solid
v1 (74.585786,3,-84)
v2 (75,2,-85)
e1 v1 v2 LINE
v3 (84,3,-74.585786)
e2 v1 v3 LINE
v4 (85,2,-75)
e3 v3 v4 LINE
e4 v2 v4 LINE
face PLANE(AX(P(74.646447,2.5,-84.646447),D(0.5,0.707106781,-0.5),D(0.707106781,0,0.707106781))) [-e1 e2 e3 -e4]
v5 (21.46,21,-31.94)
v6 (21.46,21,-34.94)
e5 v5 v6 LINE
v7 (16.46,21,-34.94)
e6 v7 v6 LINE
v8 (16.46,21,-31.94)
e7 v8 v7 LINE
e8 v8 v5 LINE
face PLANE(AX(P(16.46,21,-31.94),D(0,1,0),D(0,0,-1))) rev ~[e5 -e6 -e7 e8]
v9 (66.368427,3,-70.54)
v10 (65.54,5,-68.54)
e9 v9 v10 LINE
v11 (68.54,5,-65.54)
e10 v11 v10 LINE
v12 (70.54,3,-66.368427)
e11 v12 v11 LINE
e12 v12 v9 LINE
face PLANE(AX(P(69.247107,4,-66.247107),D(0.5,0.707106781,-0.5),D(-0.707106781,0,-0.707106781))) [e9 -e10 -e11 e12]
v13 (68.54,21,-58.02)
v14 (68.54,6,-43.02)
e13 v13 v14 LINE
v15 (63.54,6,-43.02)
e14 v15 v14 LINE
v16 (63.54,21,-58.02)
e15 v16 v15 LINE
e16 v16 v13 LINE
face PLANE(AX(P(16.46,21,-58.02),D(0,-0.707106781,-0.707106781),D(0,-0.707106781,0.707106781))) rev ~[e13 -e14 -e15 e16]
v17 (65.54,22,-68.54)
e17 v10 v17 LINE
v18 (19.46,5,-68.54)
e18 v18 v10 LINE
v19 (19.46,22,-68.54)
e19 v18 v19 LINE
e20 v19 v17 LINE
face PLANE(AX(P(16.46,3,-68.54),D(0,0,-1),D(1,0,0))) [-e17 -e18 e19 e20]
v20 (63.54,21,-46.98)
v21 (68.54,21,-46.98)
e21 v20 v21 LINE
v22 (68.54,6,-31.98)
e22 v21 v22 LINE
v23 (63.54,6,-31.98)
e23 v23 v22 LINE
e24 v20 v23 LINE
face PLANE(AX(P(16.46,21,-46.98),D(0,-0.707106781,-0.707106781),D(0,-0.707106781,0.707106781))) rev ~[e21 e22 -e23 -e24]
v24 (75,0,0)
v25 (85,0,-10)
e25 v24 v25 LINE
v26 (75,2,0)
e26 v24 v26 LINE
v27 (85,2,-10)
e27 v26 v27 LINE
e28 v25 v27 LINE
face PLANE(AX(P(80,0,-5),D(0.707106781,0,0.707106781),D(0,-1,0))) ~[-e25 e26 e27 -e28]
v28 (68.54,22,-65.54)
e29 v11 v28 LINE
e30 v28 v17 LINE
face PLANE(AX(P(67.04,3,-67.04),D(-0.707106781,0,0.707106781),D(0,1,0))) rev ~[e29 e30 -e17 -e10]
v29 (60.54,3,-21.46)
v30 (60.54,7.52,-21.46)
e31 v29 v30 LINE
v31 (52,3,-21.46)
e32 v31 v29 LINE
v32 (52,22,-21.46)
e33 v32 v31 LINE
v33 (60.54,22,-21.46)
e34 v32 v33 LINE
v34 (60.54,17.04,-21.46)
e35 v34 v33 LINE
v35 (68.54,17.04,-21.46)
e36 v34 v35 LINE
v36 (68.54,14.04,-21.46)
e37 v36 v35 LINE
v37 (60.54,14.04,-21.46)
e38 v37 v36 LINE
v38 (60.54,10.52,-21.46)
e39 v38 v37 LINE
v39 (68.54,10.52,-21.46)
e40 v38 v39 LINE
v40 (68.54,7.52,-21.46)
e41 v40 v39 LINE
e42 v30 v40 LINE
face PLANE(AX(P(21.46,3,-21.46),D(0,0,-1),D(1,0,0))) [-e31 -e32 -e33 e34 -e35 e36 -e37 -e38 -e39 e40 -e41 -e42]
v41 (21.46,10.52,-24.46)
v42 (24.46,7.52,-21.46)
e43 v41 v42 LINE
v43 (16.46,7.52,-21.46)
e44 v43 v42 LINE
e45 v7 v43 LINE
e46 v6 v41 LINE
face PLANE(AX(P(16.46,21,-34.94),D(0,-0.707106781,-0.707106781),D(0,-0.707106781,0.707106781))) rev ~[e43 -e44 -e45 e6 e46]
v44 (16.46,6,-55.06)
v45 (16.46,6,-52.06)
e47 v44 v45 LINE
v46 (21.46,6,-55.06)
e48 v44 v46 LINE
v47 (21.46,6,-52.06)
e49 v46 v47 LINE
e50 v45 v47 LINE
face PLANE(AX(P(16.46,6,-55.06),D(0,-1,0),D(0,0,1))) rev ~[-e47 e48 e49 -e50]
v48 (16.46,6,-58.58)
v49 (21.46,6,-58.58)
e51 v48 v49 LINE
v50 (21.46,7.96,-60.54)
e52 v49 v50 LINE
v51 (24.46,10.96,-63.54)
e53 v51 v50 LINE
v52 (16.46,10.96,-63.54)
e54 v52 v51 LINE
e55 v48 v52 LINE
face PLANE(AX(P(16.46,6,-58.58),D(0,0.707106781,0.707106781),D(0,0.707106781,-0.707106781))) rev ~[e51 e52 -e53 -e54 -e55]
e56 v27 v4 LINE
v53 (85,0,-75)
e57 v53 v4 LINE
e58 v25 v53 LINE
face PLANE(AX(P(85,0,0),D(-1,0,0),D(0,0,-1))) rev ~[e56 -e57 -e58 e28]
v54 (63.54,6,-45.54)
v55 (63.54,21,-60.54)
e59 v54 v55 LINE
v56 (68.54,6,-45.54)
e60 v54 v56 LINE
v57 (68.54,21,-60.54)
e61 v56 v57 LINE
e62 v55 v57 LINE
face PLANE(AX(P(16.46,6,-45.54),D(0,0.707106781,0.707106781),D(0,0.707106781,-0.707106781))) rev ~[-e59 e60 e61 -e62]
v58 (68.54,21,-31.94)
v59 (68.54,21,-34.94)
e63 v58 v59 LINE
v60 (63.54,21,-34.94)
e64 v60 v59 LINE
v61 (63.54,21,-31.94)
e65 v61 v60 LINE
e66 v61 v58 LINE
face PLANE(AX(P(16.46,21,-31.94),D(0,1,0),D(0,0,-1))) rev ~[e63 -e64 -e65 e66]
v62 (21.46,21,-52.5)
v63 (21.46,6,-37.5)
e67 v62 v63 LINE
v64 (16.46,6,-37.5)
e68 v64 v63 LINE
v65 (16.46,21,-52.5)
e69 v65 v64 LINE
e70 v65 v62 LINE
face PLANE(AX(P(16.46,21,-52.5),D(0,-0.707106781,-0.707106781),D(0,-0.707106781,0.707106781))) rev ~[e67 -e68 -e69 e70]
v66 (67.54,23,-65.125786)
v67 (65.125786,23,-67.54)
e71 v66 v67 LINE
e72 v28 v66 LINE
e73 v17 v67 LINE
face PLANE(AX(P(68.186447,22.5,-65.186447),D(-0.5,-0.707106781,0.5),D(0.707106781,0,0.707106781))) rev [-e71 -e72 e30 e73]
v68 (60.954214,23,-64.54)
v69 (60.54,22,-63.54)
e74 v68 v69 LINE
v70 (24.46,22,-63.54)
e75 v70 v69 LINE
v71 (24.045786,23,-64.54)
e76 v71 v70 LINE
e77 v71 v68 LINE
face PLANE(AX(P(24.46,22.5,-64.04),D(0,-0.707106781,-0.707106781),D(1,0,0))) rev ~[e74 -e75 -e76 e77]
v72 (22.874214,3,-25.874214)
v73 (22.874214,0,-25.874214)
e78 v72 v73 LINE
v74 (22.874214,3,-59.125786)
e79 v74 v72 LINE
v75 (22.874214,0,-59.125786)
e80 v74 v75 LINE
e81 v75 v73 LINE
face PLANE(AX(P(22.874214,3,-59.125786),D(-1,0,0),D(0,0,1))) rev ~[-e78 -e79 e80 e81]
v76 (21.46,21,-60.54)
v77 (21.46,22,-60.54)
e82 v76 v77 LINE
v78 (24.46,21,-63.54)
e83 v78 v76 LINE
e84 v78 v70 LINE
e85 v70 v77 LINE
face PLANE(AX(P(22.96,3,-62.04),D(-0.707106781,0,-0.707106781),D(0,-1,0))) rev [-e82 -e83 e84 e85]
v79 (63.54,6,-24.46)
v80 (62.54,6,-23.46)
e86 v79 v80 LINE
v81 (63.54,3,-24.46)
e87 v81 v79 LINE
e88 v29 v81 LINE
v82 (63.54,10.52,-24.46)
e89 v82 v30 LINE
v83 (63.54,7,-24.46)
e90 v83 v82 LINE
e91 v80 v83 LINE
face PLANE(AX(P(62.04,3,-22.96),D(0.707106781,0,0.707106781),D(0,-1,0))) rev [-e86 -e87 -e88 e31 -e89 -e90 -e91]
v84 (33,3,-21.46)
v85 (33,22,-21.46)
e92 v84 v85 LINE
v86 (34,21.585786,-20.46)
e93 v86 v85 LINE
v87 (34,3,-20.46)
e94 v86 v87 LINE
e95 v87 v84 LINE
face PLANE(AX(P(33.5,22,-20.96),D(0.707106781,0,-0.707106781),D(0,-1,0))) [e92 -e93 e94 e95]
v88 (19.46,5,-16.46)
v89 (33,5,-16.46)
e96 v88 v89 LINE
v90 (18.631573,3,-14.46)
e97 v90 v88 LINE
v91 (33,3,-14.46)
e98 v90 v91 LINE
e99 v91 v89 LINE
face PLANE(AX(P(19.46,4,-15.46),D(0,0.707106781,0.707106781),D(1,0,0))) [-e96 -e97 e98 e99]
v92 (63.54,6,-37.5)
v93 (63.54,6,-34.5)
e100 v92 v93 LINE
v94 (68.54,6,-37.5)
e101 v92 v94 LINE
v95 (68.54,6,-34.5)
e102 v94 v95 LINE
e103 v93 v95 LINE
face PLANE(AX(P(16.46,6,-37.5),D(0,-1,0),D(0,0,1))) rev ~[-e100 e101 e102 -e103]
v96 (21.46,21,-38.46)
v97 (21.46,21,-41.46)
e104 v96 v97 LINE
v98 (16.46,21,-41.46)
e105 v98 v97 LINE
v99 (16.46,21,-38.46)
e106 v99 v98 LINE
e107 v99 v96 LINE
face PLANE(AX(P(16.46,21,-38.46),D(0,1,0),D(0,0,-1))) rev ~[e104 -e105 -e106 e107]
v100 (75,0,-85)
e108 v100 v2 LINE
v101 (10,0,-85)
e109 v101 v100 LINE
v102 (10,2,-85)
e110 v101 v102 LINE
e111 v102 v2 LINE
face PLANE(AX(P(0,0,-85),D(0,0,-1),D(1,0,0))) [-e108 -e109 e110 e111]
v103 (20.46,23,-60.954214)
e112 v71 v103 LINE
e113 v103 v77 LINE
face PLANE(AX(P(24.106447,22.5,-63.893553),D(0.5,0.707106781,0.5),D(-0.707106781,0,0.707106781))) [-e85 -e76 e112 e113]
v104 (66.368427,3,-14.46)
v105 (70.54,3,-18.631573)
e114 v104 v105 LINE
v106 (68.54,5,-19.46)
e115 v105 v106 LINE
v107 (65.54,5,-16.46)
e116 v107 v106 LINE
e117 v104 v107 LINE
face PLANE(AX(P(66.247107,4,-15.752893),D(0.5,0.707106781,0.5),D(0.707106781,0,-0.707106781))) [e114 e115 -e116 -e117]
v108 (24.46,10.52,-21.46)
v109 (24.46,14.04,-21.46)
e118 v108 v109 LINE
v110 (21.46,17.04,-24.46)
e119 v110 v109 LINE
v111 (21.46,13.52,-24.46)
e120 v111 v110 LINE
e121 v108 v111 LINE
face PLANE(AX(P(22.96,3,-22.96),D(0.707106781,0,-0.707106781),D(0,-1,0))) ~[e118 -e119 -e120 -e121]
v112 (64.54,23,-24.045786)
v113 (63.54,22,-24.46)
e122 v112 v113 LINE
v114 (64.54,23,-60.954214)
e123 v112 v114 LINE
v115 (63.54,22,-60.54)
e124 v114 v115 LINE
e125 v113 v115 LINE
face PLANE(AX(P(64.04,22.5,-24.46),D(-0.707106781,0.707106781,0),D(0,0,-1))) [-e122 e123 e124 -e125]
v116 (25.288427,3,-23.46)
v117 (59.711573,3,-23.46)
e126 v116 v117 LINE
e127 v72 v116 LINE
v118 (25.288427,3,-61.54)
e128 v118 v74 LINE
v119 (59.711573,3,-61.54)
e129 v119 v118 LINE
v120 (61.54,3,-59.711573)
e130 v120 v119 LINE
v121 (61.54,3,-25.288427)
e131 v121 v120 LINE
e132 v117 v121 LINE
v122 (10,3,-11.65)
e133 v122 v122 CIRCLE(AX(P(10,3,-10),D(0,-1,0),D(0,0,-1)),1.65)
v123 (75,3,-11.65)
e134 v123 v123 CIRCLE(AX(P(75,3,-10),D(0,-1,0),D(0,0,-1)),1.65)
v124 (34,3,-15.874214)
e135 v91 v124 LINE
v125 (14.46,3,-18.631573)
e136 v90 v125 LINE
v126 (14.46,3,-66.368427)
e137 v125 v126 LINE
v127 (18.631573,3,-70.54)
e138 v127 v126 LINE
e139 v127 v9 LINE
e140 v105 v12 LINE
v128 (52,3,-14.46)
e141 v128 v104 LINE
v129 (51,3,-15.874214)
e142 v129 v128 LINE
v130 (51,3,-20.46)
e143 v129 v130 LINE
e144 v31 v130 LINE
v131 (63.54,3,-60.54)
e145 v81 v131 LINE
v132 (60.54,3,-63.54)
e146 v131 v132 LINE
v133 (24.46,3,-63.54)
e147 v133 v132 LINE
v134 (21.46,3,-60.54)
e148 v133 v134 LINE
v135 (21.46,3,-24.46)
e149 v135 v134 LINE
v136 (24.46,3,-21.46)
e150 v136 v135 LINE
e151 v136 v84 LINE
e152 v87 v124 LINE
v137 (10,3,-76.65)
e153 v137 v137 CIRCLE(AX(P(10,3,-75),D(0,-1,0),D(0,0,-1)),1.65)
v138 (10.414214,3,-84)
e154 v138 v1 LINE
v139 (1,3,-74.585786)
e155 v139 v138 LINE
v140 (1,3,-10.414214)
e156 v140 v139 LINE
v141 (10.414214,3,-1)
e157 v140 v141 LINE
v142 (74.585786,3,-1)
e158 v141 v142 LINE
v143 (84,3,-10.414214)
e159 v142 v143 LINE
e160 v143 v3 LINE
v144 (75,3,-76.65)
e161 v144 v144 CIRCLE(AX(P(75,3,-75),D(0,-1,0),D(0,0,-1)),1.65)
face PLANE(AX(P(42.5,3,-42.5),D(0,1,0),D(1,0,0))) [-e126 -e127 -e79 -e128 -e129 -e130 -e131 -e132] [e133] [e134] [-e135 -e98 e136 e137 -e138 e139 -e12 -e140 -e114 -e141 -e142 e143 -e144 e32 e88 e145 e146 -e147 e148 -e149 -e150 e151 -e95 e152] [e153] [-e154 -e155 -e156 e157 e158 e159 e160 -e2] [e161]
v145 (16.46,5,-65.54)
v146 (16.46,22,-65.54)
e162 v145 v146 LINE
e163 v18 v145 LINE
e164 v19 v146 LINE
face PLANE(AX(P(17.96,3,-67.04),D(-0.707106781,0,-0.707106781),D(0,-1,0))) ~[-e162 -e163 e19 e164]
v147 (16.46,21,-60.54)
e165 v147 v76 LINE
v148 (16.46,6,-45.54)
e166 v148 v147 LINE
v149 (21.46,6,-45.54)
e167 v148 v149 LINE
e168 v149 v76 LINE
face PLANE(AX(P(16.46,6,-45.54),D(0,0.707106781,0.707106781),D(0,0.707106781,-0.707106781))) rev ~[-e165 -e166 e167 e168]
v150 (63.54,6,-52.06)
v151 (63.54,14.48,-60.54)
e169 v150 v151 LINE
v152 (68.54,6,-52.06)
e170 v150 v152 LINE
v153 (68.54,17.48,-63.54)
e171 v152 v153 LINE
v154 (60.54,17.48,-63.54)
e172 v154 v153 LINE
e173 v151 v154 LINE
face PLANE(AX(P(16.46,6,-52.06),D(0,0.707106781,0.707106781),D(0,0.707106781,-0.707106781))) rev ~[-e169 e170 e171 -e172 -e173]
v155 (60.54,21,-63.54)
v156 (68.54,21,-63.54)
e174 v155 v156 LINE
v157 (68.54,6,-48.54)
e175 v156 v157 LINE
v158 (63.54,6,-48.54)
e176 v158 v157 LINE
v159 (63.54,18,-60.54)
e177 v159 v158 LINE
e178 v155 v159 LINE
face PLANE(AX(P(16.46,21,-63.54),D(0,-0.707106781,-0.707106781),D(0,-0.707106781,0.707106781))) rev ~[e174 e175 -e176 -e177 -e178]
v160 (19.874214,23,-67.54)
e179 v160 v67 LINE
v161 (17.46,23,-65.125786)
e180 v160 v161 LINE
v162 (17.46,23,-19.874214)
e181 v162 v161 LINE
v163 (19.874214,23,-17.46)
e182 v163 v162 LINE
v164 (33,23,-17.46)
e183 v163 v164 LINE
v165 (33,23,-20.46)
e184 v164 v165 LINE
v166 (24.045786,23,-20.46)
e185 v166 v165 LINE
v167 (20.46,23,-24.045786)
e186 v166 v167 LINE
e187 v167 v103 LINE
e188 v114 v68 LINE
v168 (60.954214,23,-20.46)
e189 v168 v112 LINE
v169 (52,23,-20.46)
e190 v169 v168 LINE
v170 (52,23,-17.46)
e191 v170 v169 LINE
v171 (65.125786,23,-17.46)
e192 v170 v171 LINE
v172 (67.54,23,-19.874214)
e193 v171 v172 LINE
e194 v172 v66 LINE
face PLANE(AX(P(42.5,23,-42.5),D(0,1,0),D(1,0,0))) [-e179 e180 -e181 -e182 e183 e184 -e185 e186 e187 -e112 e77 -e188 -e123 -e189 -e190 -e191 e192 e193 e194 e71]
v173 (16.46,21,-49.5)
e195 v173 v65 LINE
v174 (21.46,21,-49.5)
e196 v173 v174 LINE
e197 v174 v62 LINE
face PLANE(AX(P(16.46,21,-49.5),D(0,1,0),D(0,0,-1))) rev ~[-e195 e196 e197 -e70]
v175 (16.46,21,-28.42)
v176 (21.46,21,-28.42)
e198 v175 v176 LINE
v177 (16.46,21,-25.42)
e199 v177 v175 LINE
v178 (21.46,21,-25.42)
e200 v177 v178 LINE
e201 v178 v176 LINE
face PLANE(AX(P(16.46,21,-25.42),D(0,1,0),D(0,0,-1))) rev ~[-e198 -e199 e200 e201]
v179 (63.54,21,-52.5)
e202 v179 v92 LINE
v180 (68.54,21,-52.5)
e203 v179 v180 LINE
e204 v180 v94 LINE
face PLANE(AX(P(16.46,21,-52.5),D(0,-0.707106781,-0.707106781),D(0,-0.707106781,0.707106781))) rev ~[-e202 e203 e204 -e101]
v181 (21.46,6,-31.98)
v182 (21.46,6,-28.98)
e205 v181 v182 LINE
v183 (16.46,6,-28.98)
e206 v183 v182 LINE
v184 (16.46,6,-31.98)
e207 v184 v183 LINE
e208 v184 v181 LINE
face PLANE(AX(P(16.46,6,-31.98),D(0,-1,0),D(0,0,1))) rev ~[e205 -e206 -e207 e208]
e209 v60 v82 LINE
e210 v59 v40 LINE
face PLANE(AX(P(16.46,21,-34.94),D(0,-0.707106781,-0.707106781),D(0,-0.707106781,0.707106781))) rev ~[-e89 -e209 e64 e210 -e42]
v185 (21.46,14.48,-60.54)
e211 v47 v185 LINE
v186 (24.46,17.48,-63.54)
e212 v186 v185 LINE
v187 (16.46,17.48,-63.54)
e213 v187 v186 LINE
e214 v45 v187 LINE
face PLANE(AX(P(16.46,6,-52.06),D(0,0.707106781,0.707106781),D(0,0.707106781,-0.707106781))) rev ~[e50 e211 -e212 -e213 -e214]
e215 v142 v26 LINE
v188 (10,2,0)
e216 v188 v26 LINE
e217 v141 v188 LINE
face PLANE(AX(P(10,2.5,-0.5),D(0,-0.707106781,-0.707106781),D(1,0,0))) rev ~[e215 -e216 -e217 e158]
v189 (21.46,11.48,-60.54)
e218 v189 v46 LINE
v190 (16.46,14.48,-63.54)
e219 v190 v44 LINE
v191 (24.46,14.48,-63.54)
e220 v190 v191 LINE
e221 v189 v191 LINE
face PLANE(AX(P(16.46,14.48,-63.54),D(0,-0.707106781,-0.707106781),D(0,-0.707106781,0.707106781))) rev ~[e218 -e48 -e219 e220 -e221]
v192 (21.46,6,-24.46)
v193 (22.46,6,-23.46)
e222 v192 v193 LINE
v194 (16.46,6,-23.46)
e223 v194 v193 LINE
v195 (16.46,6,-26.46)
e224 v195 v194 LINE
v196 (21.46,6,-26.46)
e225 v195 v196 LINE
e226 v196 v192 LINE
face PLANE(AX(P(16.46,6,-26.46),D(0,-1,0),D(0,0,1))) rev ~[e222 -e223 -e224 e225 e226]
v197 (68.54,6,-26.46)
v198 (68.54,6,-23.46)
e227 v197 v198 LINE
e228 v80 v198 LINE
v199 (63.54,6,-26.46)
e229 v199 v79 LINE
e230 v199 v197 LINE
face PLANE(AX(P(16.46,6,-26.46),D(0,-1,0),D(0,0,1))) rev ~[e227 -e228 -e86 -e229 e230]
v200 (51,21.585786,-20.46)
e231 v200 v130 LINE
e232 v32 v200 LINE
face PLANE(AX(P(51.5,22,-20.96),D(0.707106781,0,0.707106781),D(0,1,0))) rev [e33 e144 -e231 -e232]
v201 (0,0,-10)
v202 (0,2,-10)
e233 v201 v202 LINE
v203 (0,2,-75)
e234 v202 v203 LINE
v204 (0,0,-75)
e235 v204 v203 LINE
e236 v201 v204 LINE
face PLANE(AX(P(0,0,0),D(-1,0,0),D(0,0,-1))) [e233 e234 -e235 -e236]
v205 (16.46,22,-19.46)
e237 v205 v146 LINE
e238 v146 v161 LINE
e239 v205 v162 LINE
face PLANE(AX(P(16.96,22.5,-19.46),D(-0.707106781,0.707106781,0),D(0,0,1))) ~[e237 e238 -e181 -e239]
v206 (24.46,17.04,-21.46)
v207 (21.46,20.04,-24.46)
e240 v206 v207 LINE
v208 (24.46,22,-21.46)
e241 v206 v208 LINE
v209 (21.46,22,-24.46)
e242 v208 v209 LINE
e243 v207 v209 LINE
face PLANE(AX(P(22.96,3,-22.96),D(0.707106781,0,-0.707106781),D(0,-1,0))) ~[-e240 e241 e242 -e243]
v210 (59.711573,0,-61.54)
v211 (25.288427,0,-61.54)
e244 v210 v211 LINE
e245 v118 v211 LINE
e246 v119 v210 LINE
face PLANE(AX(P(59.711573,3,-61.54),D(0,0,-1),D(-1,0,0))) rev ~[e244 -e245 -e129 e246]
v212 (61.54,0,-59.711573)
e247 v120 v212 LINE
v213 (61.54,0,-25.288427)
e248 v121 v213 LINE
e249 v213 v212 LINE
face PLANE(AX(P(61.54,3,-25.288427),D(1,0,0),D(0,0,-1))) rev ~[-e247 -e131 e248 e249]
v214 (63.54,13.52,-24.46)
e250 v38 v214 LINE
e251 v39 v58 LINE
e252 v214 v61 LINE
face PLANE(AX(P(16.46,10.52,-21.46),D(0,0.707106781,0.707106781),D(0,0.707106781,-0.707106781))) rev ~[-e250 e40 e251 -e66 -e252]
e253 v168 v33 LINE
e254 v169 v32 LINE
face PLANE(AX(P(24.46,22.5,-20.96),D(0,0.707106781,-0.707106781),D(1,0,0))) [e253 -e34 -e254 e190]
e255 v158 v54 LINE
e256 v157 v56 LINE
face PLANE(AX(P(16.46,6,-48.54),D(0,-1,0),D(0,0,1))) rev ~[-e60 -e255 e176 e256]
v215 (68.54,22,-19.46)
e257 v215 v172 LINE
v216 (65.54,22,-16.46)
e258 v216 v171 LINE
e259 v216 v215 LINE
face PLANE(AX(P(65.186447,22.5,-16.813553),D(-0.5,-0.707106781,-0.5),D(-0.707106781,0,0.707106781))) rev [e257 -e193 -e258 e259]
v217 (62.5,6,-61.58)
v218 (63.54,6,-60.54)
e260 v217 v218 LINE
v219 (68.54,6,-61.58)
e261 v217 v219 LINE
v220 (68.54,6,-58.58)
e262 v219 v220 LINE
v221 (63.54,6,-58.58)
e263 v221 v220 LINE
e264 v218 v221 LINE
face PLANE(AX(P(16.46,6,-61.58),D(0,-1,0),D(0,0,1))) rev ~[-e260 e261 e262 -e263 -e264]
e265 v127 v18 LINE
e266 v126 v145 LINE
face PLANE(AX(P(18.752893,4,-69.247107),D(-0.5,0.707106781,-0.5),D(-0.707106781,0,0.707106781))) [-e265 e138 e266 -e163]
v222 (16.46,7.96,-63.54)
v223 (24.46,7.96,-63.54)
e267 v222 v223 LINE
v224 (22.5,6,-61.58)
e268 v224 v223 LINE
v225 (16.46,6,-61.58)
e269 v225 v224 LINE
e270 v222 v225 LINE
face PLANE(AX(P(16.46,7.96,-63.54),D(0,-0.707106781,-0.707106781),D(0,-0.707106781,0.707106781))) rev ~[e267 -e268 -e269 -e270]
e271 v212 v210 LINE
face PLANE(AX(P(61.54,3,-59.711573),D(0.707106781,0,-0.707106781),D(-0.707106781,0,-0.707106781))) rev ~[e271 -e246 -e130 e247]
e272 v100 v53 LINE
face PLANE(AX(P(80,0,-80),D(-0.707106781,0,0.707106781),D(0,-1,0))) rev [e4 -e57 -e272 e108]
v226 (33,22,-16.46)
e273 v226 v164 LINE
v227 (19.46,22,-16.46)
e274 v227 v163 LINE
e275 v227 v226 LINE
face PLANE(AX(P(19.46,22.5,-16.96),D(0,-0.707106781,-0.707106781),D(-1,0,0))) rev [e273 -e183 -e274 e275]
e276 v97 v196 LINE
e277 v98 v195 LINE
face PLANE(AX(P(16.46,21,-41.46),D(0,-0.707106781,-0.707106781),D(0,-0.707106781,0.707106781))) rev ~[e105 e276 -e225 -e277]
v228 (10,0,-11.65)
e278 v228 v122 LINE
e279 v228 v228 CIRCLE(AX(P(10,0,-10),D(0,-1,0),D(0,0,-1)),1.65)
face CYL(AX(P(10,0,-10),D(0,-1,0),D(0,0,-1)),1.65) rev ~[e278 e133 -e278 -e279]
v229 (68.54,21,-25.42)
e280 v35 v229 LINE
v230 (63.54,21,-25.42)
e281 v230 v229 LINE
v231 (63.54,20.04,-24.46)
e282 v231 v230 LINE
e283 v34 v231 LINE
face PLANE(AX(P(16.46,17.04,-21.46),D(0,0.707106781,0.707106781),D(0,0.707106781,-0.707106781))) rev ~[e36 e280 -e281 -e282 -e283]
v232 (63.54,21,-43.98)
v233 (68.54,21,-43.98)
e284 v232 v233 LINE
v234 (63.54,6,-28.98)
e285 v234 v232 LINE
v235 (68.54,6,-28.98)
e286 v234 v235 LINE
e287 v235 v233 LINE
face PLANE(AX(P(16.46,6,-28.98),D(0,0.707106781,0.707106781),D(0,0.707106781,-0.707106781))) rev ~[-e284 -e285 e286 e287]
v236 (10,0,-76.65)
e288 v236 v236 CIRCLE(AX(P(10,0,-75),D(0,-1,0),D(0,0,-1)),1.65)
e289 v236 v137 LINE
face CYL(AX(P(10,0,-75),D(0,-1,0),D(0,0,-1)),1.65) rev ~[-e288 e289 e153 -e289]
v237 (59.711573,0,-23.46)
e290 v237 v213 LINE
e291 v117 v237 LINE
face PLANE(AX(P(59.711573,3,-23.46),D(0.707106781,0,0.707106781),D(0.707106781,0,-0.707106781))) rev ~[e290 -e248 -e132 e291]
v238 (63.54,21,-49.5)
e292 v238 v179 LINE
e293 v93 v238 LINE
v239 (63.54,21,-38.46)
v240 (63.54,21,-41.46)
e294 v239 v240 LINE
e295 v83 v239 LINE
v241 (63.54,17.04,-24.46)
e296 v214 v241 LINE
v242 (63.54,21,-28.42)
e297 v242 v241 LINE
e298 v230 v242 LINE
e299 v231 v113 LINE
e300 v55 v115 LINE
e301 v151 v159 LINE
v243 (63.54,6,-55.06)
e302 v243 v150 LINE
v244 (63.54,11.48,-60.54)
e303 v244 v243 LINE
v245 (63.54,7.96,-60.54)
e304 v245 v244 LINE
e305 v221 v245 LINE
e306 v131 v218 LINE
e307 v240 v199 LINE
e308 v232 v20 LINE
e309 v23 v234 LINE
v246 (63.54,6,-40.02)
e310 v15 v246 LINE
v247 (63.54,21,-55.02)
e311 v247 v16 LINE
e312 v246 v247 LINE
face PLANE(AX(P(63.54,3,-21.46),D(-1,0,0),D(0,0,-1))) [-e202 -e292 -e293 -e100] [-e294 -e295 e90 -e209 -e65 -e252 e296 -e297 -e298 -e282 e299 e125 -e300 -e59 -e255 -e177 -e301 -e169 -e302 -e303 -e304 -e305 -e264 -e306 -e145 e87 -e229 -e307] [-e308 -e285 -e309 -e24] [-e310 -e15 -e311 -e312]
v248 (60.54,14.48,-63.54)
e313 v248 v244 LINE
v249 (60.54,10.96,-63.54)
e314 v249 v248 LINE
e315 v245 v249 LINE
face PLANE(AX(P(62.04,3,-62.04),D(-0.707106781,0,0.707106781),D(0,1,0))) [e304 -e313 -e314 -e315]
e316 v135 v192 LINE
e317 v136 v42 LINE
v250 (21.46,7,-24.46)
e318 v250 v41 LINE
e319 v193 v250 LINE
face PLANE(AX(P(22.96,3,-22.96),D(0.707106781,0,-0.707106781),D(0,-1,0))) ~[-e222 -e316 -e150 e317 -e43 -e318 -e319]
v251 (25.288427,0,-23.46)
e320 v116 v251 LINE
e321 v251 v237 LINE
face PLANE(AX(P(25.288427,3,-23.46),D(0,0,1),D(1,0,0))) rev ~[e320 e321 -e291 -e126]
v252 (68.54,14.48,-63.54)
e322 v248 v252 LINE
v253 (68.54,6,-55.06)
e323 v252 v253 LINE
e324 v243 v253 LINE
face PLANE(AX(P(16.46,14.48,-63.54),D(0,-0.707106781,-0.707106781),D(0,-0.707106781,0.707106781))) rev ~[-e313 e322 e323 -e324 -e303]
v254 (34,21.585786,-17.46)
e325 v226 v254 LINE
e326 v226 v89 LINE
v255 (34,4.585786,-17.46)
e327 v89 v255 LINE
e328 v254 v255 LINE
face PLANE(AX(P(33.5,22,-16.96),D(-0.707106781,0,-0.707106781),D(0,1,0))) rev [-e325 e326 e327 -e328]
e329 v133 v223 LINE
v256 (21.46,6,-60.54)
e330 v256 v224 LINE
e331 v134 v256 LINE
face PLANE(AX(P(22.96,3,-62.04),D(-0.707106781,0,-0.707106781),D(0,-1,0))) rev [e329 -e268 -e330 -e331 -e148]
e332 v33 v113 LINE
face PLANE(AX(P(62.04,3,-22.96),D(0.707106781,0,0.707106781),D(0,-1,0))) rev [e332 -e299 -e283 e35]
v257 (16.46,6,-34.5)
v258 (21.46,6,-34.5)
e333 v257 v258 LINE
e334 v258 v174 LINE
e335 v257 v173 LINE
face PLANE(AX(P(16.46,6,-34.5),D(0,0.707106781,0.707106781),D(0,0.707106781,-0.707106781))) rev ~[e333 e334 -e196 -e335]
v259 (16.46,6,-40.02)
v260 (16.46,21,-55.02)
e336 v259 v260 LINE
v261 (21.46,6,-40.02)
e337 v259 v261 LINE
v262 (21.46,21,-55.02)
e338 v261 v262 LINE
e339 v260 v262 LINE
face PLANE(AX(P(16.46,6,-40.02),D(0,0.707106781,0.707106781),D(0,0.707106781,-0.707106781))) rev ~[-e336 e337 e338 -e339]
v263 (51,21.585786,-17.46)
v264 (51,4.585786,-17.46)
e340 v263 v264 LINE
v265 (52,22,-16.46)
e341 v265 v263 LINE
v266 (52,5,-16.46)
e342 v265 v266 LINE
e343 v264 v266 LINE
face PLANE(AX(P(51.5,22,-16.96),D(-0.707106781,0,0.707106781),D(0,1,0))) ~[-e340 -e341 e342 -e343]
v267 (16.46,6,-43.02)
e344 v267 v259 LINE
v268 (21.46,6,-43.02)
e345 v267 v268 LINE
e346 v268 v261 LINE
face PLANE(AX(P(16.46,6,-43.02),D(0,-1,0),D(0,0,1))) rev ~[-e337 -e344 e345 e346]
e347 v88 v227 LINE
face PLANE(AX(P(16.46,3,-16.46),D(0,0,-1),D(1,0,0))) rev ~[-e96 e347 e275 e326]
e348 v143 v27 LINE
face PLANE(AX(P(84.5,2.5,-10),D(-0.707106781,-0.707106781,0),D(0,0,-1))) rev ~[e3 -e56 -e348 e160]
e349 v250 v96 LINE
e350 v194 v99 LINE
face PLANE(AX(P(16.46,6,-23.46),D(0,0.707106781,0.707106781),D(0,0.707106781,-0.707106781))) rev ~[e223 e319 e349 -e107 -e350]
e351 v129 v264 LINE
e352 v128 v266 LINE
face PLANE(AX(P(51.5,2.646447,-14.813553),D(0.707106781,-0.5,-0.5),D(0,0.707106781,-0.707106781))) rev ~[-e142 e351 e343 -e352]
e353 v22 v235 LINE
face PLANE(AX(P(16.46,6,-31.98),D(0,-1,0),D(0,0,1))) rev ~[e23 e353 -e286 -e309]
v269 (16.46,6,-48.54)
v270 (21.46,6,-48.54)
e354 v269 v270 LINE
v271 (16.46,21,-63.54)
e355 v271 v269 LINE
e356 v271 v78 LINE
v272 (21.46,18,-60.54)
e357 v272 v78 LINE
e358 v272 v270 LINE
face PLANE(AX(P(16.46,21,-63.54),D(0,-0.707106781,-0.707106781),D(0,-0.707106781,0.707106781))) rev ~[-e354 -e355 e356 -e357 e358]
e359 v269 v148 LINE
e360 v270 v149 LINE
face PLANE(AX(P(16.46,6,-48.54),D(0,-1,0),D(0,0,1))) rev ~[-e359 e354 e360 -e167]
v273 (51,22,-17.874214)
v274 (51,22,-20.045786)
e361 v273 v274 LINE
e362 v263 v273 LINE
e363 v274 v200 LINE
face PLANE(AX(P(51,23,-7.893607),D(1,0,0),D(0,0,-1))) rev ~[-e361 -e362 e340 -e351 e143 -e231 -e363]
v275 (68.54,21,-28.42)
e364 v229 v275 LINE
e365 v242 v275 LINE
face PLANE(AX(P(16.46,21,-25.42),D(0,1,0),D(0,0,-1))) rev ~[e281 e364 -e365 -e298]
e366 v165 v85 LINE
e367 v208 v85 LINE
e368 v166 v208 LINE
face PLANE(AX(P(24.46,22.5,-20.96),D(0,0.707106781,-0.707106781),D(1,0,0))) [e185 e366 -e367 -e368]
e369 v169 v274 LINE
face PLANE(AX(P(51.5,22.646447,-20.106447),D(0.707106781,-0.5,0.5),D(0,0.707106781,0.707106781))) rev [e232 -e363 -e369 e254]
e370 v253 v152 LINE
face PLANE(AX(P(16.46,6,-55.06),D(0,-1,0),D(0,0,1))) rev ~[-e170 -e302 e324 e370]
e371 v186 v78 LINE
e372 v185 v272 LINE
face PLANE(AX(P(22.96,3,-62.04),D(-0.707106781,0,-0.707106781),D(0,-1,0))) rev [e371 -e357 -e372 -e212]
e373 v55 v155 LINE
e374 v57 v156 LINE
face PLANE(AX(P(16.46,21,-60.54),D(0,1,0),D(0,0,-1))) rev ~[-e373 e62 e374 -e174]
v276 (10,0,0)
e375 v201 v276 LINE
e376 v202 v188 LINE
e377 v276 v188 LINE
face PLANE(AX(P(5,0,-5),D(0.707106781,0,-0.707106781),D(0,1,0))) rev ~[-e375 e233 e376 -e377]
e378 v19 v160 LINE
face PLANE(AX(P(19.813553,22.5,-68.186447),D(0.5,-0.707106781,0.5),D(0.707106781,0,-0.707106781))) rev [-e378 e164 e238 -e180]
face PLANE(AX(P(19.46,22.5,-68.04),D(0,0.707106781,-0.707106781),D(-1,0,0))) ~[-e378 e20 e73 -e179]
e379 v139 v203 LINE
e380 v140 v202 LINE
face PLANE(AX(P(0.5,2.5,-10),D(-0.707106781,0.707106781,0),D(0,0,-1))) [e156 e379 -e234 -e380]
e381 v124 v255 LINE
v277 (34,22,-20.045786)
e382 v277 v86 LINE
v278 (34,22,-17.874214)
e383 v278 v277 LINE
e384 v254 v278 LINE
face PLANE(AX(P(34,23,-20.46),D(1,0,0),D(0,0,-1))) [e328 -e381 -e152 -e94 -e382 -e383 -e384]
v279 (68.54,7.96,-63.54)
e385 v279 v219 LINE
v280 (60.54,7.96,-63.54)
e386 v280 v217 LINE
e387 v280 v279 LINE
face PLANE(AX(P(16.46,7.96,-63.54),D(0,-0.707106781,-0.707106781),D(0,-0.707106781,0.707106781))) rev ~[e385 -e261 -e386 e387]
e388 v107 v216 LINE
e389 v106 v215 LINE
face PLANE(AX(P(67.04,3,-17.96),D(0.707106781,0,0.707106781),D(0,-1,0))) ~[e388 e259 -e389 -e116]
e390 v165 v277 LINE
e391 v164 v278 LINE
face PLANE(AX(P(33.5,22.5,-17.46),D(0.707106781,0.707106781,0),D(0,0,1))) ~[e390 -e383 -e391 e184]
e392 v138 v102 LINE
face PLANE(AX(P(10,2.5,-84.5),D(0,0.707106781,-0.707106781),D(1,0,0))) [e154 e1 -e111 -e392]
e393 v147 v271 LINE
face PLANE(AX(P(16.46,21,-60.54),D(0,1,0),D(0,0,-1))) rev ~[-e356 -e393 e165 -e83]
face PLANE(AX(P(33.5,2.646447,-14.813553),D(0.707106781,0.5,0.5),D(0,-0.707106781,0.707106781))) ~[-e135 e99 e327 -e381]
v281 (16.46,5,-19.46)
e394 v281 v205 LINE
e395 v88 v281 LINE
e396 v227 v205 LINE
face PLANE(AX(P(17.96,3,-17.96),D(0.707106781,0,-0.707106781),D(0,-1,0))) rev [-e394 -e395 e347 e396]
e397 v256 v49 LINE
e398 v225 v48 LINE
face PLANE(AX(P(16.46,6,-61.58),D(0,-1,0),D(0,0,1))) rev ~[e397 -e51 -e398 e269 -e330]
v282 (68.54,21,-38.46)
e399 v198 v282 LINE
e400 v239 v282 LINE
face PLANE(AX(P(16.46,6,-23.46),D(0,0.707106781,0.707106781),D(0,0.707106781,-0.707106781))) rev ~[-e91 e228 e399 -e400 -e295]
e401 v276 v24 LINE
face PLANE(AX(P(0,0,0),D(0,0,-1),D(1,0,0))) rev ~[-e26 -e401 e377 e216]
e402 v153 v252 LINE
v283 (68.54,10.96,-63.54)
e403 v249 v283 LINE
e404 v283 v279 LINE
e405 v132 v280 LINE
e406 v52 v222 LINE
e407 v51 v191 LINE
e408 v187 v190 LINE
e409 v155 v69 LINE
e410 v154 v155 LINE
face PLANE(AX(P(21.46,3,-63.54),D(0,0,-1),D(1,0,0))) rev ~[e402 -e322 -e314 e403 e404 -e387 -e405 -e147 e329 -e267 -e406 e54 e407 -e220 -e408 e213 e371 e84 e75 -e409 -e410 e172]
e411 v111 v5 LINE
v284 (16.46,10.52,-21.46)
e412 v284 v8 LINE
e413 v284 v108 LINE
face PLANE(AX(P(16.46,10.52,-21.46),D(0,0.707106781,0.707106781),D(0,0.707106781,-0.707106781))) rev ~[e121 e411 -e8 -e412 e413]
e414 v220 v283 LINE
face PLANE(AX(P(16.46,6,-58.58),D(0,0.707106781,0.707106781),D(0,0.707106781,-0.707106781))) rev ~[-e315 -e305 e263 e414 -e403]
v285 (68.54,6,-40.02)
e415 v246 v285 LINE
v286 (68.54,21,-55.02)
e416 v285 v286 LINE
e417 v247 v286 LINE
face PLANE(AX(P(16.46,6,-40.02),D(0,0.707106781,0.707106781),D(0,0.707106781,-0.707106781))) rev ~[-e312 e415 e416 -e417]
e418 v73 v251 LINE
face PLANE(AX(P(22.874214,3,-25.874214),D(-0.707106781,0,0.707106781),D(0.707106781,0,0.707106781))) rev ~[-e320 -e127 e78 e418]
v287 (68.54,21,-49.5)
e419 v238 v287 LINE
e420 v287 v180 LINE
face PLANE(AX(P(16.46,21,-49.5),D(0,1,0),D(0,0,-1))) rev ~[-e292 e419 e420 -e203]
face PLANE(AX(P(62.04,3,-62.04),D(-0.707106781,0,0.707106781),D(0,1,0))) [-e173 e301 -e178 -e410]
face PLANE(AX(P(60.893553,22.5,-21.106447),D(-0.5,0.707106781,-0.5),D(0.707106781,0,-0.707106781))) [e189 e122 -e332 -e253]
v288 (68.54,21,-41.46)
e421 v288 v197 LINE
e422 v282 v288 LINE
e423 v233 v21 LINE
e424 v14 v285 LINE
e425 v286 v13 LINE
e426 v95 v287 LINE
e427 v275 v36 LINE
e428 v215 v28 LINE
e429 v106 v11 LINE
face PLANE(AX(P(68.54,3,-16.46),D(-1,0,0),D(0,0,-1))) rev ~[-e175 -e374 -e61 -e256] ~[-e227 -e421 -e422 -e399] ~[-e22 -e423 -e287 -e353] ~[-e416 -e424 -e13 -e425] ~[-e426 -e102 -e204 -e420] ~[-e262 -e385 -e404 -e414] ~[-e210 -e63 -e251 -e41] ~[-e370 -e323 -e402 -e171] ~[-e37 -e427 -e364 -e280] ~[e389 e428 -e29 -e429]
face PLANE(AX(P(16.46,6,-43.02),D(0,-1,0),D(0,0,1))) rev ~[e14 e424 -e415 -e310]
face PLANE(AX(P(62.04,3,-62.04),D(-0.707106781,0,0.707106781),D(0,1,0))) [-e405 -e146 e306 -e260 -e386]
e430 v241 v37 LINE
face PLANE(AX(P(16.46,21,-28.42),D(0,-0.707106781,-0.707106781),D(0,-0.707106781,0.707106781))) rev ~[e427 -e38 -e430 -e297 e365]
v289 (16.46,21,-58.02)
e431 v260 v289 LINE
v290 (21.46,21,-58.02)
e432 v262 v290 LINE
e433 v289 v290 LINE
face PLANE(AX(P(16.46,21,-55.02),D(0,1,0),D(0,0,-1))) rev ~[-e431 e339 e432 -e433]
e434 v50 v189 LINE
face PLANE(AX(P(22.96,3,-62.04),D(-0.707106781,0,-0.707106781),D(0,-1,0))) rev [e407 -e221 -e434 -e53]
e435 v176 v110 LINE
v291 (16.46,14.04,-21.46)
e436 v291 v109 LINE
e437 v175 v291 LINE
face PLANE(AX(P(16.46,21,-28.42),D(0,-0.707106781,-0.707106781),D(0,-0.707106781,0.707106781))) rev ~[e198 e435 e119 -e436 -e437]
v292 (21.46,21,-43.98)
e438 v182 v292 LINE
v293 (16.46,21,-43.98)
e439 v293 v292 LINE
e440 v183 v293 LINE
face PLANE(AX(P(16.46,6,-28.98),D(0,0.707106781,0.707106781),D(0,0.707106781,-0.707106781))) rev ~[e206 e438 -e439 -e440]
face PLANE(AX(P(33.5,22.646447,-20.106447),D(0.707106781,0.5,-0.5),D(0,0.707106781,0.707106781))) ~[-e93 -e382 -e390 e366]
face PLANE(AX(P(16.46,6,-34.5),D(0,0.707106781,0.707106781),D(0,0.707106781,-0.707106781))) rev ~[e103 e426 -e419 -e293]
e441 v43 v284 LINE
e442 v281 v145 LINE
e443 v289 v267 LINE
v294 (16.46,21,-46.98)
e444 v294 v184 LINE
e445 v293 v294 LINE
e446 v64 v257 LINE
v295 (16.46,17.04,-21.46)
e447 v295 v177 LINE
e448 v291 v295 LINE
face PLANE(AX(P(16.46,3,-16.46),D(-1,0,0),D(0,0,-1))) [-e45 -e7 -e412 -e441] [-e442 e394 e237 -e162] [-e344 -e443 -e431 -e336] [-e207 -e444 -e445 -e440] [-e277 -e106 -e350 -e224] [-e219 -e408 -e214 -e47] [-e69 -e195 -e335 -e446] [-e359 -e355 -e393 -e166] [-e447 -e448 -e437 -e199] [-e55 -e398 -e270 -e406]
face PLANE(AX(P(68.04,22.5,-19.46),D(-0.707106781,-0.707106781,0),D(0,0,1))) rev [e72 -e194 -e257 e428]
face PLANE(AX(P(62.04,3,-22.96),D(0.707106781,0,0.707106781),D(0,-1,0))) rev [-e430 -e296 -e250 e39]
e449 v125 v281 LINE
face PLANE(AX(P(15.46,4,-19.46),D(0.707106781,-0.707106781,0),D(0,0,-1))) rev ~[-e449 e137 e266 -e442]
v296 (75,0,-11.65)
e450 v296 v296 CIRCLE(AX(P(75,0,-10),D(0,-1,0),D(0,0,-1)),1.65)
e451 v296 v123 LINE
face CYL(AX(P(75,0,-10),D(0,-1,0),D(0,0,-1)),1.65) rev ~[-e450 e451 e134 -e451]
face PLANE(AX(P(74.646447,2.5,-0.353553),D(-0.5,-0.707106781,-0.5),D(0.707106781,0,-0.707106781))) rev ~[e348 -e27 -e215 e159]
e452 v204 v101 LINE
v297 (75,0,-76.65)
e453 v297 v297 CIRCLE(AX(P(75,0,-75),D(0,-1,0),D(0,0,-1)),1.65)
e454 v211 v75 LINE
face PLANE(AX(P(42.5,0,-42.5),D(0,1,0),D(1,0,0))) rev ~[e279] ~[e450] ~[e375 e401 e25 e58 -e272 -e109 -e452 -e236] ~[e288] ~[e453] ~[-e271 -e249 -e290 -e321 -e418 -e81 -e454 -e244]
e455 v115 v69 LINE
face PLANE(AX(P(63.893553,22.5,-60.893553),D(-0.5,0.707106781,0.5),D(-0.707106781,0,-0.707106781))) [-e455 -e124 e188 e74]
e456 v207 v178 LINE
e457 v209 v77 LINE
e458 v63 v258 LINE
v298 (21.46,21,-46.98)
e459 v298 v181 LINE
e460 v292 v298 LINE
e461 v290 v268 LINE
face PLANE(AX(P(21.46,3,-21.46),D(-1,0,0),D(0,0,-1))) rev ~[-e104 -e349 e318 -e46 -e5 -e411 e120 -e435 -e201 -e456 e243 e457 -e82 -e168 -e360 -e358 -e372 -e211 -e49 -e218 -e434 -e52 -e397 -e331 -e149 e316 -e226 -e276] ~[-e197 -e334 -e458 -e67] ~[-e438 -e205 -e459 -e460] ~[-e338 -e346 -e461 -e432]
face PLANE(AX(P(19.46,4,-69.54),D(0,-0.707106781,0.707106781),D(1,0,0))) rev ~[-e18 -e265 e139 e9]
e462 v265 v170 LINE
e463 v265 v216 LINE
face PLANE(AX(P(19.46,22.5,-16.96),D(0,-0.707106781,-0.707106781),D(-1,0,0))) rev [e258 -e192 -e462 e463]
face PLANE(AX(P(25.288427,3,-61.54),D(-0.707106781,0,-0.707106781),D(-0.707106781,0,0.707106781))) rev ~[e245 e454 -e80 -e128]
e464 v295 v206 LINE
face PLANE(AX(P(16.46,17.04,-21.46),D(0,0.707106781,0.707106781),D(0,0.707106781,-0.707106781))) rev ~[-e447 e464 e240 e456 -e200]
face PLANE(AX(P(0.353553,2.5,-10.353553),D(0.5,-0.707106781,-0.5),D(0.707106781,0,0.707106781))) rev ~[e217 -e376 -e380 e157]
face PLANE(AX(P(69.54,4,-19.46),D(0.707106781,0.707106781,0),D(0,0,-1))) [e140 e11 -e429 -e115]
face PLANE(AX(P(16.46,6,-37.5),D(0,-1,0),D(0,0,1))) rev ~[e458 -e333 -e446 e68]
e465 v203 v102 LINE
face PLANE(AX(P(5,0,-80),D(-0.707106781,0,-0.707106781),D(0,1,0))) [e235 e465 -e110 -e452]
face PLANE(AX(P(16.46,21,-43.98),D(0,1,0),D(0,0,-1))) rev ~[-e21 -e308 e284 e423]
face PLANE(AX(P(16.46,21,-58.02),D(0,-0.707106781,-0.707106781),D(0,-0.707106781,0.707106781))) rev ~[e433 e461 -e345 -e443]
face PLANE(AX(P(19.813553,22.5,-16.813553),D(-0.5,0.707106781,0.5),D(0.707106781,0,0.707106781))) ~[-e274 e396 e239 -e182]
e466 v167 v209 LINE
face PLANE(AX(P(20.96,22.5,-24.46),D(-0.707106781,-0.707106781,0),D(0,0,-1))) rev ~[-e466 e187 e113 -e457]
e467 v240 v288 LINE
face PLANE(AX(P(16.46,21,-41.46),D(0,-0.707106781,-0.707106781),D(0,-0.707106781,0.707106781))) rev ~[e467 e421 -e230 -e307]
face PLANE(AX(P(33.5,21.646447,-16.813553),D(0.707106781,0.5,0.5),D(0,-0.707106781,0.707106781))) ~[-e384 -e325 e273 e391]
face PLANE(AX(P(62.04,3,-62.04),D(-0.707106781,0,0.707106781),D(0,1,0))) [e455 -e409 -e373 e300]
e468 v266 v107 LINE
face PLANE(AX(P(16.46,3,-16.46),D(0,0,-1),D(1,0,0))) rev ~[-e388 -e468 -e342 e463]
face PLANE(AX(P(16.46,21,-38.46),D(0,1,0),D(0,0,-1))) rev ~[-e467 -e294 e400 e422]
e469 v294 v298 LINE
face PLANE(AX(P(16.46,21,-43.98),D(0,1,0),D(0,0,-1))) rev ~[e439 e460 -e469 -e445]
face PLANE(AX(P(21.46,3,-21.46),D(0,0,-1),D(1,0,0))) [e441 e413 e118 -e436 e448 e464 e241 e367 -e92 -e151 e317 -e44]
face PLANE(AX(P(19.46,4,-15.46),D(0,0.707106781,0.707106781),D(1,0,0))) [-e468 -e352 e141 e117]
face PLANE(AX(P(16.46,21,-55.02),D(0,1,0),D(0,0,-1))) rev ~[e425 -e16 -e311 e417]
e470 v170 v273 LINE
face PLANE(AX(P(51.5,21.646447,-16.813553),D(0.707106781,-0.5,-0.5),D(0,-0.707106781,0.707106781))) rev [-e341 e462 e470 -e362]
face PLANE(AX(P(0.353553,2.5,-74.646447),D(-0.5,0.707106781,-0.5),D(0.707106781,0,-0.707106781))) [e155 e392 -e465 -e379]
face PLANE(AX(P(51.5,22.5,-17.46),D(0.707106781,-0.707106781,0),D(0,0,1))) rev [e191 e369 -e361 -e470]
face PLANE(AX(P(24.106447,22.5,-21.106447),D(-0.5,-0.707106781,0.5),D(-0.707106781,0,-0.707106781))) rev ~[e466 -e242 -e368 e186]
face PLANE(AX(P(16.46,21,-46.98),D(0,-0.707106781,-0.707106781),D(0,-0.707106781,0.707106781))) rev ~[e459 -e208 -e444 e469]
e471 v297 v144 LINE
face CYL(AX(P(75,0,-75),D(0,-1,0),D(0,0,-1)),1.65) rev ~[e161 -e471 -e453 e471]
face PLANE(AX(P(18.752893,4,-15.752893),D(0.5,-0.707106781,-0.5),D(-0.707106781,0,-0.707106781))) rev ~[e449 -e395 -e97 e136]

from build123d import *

# Parameters (mm, degrees)
SKETCH_1_W          = 85
SKETCH_1_H          = 85
EXTRUDE_1_DEPTH     = 3
SKETCH_2_W          = 52.08
SKETCH_2_H          = 52.08
SKETCH_2_W_2        = 42.08
SKETCH_2_H_2        = 42.08
EXTRUDE_2_DEPTH     = 20
CHAMFER_1_SIZE      = 3
CHAMFER_2_SIZE      = 2
CHAMFER_3_SIZE      = 1
CHAMFER_4_SIZE      = 10
CHAMFER_5_SIZE      = 1
CUT_EXTRUDE_1_REACH = 124.389
SKETCH_3_W          = 8.5
SKETCH_3_H          = 9.566393395
SKETCH_3_H_2        = 3
SKETCH_3_H_3        = 9.81159244
CHAMFER_6_SIZE      = 1
CUT_EXTRUDE_2_DEPTH = 10
CUT_EXTRUDE_4_DEPTH = 59
SKETCH_6_R          = 1.65
CUT_EXTRUDE_5_DEPTH = 10


with BuildPart() as part:
    # 草图1 → 凸台-拉伸1 (new body)
    with BuildSketch(Plane(origin=(0, 0, 0), x_dir=(1, 0, 0), z_dir=(0, 1, 0))):
        with Locations((42.5, 42.5)):
            Rectangle(SKETCH_1_W, SKETCH_1_H)
    extrude(amount=EXTRUDE_1_DEPTH)

    # 草图2 → 凸台-拉伸2 (add)
    with BuildSketch(Plane(origin=(0, 3, 0), x_dir=(1, 0, 0), z_dir=(0, 1, 0))):
        with Locations((42.5, 42.5)):
            Rectangle(SKETCH_2_W, SKETCH_2_H)
        with Locations((42.5, 42.5)):
            Rectangle(SKETCH_2_W_2, SKETCH_2_H_2, mode=Mode.SUBTRACT)
    extrude(amount=EXTRUDE_2_DEPTH)

    # 倒角1
    chamfer_1_edges = [part.edges().sort_by_distance(p)[0] for p in [
        (16.46, 13, -68.54),
        (16.46, 13, -16.46),
        (68.54, 13, -16.46),
        (68.54, 13, -68.54),
        (63.54, 13, -63.54),
        (21.46, 13, -63.54),
        (21.46, 13, -21.46),
        (63.54, 13, -21.46),
    ]]
    chamfer(chamfer_1_edges, length=CHAMFER_1_SIZE)

    # 倒角2
    chamfer_2_edges = [part.edges().sort_by_distance(p)[0] for p in [
        (68.54, 3, -42.5),
        (42.5, 3, -16.46),
        (42.5, 3, -68.54),
        (16.46, 3, -42.5),
        (67.04, 3, -17.96),
        (67.04, 3, -67.04),
        (17.96, 3, -17.96),
        (17.96, 3, -67.04),
    ]]
    chamfer(chamfer_2_edges, length=CHAMFER_2_SIZE)

    # 倒角3
    chamfer_3_edges = [part.edges().sort_by_distance(p)[0] for p in [
        (68.54, 23, -42.5),
        (42.5, 23, -16.46),
        (16.46, 23, -42.5),
        (42.5, 23, -68.54),
        (63.54, 23, -42.5),
        (42.5, 23, -21.46),
        (21.46, 23, -42.5),
        (42.5, 23, -63.54),
        (17.96, 23, -67.04),
        (17.96, 23, -17.96),
        (67.04, 23, -67.04),
        (67.04, 23, -17.96),
        (62.04, 23, -22.96),
        (22.96, 23, -22.96),
        (62.04, 23, -62.04),
        (22.96, 23, -62.04),
    ]]
    chamfer(chamfer_3_edges, length=CHAMFER_3_SIZE)

    # 倒角4
    chamfer_4_edges = [part.edges().sort_by_distance(p)[0] for p in [
        (0, 1.5, -85),
        (85, 1.5, -85),
        (85, 1.5, 0),
        (0, 1.5, 0),
    ]]
    chamfer(chamfer_4_edges, length=CHAMFER_4_SIZE)

    # 倒角5
    chamfer_5_edges = [part.edges().sort_by_distance(p)[0] for p in [
        (0, 3, -42.5),
        (42.5, 3, -85),
        (42.5, 3, 0),
        (85, 3, -42.5),
        (80, 3, -5),
        (80, 3, -80),
        (5, 3, -5),
        (5, 3, -80),
    ]]
    chamfer(chamfer_5_edges, length=CHAMFER_5_SIZE)

    # 切除-拉伸1: up to this face of the body (flat: up to its plane)
    cut_extrude_1_end = Plane(part.part.faces().sort_by_distance((42.5, 3, -42.5))[0])
    # 草图3 → 切除-拉伸1 (cut, up to the picked face)
    with BuildSketch(Plane(origin=(0, 23, 0), x_dir=(1, 0, 0), z_dir=(0, 1, 0)), mode=Mode.PRIVATE) as cut_extrude_1_sk1:
        with Locations((46.75, 12.676803303)):
            Rectangle(SKETCH_3_W, SKETCH_3_H)
    cut_extrude_1_tool1 = split(extrude(cut_extrude_1_sk1.sketch, amount=-CUT_EXTRUDE_1_REACH, mode=Mode.PRIVATE), bisect_by=cut_extrude_1_end, keep=Keep.BOTH, mode=Mode.PRIVATE)
    # 草图3 → 切除-拉伸1 (cut, up to the picked face)
    with BuildSketch(Plane(origin=(0, 23, 0), x_dir=(1, 0, 0), z_dir=(0, 1, 0)), mode=Mode.PRIVATE) as cut_extrude_1_sk2:
        with Locations((46.75, 18.96)):
            Rectangle(SKETCH_3_W, SKETCH_3_H_2)
    cut_extrude_1_tool2 = split(extrude(cut_extrude_1_sk2.sketch, amount=-CUT_EXTRUDE_1_REACH, mode=Mode.PRIVATE), bisect_by=cut_extrude_1_end, keep=Keep.BOTH, mode=Mode.PRIVATE)
    # 草图3 → 切除-拉伸1 (cut, up to the picked face)
    with BuildSketch(Plane(origin=(0, 23, 0), x_dir=(1, 0, 0), z_dir=(0, 1, 0)), mode=Mode.PRIVATE) as cut_extrude_1_sk3:
        with Locations((46.75, 25.36579622)):
            Rectangle(SKETCH_3_W, SKETCH_3_H_3)
    cut_extrude_1_tool3 = split(extrude(cut_extrude_1_sk3.sketch, amount=-CUT_EXTRUDE_1_REACH, mode=Mode.PRIVATE), bisect_by=cut_extrude_1_end, keep=Keep.BOTH, mode=Mode.PRIVATE)
    # 草图3 → 切除-拉伸1 (cut, up to the picked face)
    with BuildSketch(Plane(origin=(0, 23, 0), x_dir=(1, 0, 0), z_dir=(0, 1, 0)), mode=Mode.PRIVATE) as cut_extrude_1_sk4:
        with Locations((38.25, 25.36579622)):
            Rectangle(SKETCH_3_W, SKETCH_3_H_3)
    cut_extrude_1_tool4 = split(extrude(cut_extrude_1_sk4.sketch, amount=-CUT_EXTRUDE_1_REACH, mode=Mode.PRIVATE), bisect_by=cut_extrude_1_end, keep=Keep.BOTH, mode=Mode.PRIVATE)
    # 草图3 → 切除-拉伸1 (cut, up to the picked face)
    with BuildSketch(Plane(origin=(0, 23, 0), x_dir=(1, 0, 0), z_dir=(0, 1, 0)), mode=Mode.PRIVATE) as cut_extrude_1_sk5:
        with Locations((38.25, 18.96)):
            Rectangle(SKETCH_3_W, SKETCH_3_H_2)
    cut_extrude_1_tool5 = split(extrude(cut_extrude_1_sk5.sketch, amount=-CUT_EXTRUDE_1_REACH, mode=Mode.PRIVATE), bisect_by=cut_extrude_1_end, keep=Keep.BOTH, mode=Mode.PRIVATE)
    # 草图3 → 切除-拉伸1 (cut, up to the picked face)
    with BuildSketch(Plane(origin=(0, 23, 0), x_dir=(1, 0, 0), z_dir=(0, 1, 0)), mode=Mode.PRIVATE) as cut_extrude_1_sk6:
        with Locations((38.25, 12.676803303)):
            Rectangle(SKETCH_3_W, SKETCH_3_H)
    cut_extrude_1_tool6 = split(extrude(cut_extrude_1_sk6.sketch, amount=-CUT_EXTRUDE_1_REACH, mode=Mode.PRIVATE), bisect_by=cut_extrude_1_end, keep=Keep.BOTH, mode=Mode.PRIVATE)
    add(cut_extrude_1_tool1.solids().sort_by(Axis((46.75, 23, -12.676803), (0, -1, 0)))[0], mode=Mode.SUBTRACT)
    add(cut_extrude_1_tool2.solids().sort_by(Axis((46.75, 23, -18.96), (0, -1, 0)))[0], mode=Mode.SUBTRACT)
    add(cut_extrude_1_tool3.solids().sort_by(Axis((46.75, 23, -25.365796), (0, -1, 0)))[0], mode=Mode.SUBTRACT)
    add(cut_extrude_1_tool4.solids().sort_by(Axis((38.25, 23, -25.365796), (0, -1, 0)))[0], mode=Mode.SUBTRACT)
    add(cut_extrude_1_tool5.solids().sort_by(Axis((38.25, 23, -18.96), (0, -1, 0)))[0], mode=Mode.SUBTRACT)
    add(cut_extrude_1_tool6.solids().sort_by(Axis((38.25, 23, -12.676803), (0, -1, 0)))[0], mode=Mode.SUBTRACT)

    # 倒角6
    chamfer_6_edges = [part.edges().sort_by_distance(p)[0] for p in [
        (34, 22.5, -16.96),
        (51, 22.5, -16.96),
        (51, 12.5, -21.46),
        (51, 22.5, -20.96),
        (51, 23, -18.96),
        (34, 12.5, -21.46),
        (34, 22.5, -20.96),
        (34, 4, -15.46),
        (34, 13.5, -16.46),
        (51, 4, -15.46),
        (51, 13.5, -16.46),
        (34, 23, -18.96),
    ]]
    chamfer(chamfer_6_edges, length=CHAMFER_6_SIZE)

    # 草图4 → 切除-拉伸2 (cut)
    with BuildSketch(Plane(origin=(0, 3, 0), x_dir=(1, 0, 0), z_dir=(0, 1, 0))):
        Polygon((25.288427125, 61.54), (22.874213562, 59.125786438), (22.874213562, 25.874213562), (25.288427125, 23.46), (33, 23.46), (52, 23.46), (59.711572875, 23.46), (61.54, 25.288427125), (61.54, 59.711572875), (59.711572875, 61.54), align=None)
    extrude(amount=-CUT_EXTRUDE_2_DEPTH, mode=Mode.SUBTRACT)

    # 草图5 → 切除-拉伸4 (cut)
    with BuildSketch(Plane.ZY.offset(-16.46)):
        Polygon((-63.54, 10.96), (-63.54, 7.96), (-61.58, 6), (-58.58, 6), align=None)
        Polygon((-63.54, 17.48), (-63.54, 14.48), (-55.06, 6), (-52.06, 6), align=None)
        Polygon((-45.54, 6), (-60.54, 21), (-63.54, 21), (-48.54, 6), align=None)
        Polygon((-40.02, 6), (-55.02, 21), (-58.02, 21), (-43.02, 6), align=None)
        Polygon((-34.5, 6), (-49.5, 21), (-52.5, 21), (-37.5, 6), align=None)
        Polygon((-28.98, 6), (-43.98, 21), (-46.98, 21), (-31.98, 6), align=None)
        Polygon((-23.46, 6), (-38.46, 21), (-41.46, 21), (-26.46, 6), align=None)
        Polygon((-21.46, 7.52), (-21.46, 10.52), (-31.94, 21), (-34.94, 21), align=None)
        Polygon((-21.46, 14.04), (-21.46, 17.04), (-25.42, 21), (-28.42, 21), align=None)
    extrude(amount=-CUT_EXTRUDE_4_DEPTH, mode=Mode.SUBTRACT)

    # 草图6 → 切除-拉伸5 (cut)
    with BuildSketch(Plane.XZ):
        with Locations(Location((75, -10, 0), (0, 0, 270))):
            Circle(SKETCH_6_R)
        with Locations(Location((75, -75, 0), (0, 0, 270))):
            Circle(SKETCH_6_R)
        with Locations(Location((10, -75, 0), (0, 0, 270))):
            Circle(SKETCH_6_R)
        with Locations(Location((10, -10, 0), (0, 0, 270))):
            Circle(SKETCH_6_R)
    extrude(amount=-CUT_EXTRUDE_5_DEPTH, mode=Mode.SUBTRACT)


solid = part.part
